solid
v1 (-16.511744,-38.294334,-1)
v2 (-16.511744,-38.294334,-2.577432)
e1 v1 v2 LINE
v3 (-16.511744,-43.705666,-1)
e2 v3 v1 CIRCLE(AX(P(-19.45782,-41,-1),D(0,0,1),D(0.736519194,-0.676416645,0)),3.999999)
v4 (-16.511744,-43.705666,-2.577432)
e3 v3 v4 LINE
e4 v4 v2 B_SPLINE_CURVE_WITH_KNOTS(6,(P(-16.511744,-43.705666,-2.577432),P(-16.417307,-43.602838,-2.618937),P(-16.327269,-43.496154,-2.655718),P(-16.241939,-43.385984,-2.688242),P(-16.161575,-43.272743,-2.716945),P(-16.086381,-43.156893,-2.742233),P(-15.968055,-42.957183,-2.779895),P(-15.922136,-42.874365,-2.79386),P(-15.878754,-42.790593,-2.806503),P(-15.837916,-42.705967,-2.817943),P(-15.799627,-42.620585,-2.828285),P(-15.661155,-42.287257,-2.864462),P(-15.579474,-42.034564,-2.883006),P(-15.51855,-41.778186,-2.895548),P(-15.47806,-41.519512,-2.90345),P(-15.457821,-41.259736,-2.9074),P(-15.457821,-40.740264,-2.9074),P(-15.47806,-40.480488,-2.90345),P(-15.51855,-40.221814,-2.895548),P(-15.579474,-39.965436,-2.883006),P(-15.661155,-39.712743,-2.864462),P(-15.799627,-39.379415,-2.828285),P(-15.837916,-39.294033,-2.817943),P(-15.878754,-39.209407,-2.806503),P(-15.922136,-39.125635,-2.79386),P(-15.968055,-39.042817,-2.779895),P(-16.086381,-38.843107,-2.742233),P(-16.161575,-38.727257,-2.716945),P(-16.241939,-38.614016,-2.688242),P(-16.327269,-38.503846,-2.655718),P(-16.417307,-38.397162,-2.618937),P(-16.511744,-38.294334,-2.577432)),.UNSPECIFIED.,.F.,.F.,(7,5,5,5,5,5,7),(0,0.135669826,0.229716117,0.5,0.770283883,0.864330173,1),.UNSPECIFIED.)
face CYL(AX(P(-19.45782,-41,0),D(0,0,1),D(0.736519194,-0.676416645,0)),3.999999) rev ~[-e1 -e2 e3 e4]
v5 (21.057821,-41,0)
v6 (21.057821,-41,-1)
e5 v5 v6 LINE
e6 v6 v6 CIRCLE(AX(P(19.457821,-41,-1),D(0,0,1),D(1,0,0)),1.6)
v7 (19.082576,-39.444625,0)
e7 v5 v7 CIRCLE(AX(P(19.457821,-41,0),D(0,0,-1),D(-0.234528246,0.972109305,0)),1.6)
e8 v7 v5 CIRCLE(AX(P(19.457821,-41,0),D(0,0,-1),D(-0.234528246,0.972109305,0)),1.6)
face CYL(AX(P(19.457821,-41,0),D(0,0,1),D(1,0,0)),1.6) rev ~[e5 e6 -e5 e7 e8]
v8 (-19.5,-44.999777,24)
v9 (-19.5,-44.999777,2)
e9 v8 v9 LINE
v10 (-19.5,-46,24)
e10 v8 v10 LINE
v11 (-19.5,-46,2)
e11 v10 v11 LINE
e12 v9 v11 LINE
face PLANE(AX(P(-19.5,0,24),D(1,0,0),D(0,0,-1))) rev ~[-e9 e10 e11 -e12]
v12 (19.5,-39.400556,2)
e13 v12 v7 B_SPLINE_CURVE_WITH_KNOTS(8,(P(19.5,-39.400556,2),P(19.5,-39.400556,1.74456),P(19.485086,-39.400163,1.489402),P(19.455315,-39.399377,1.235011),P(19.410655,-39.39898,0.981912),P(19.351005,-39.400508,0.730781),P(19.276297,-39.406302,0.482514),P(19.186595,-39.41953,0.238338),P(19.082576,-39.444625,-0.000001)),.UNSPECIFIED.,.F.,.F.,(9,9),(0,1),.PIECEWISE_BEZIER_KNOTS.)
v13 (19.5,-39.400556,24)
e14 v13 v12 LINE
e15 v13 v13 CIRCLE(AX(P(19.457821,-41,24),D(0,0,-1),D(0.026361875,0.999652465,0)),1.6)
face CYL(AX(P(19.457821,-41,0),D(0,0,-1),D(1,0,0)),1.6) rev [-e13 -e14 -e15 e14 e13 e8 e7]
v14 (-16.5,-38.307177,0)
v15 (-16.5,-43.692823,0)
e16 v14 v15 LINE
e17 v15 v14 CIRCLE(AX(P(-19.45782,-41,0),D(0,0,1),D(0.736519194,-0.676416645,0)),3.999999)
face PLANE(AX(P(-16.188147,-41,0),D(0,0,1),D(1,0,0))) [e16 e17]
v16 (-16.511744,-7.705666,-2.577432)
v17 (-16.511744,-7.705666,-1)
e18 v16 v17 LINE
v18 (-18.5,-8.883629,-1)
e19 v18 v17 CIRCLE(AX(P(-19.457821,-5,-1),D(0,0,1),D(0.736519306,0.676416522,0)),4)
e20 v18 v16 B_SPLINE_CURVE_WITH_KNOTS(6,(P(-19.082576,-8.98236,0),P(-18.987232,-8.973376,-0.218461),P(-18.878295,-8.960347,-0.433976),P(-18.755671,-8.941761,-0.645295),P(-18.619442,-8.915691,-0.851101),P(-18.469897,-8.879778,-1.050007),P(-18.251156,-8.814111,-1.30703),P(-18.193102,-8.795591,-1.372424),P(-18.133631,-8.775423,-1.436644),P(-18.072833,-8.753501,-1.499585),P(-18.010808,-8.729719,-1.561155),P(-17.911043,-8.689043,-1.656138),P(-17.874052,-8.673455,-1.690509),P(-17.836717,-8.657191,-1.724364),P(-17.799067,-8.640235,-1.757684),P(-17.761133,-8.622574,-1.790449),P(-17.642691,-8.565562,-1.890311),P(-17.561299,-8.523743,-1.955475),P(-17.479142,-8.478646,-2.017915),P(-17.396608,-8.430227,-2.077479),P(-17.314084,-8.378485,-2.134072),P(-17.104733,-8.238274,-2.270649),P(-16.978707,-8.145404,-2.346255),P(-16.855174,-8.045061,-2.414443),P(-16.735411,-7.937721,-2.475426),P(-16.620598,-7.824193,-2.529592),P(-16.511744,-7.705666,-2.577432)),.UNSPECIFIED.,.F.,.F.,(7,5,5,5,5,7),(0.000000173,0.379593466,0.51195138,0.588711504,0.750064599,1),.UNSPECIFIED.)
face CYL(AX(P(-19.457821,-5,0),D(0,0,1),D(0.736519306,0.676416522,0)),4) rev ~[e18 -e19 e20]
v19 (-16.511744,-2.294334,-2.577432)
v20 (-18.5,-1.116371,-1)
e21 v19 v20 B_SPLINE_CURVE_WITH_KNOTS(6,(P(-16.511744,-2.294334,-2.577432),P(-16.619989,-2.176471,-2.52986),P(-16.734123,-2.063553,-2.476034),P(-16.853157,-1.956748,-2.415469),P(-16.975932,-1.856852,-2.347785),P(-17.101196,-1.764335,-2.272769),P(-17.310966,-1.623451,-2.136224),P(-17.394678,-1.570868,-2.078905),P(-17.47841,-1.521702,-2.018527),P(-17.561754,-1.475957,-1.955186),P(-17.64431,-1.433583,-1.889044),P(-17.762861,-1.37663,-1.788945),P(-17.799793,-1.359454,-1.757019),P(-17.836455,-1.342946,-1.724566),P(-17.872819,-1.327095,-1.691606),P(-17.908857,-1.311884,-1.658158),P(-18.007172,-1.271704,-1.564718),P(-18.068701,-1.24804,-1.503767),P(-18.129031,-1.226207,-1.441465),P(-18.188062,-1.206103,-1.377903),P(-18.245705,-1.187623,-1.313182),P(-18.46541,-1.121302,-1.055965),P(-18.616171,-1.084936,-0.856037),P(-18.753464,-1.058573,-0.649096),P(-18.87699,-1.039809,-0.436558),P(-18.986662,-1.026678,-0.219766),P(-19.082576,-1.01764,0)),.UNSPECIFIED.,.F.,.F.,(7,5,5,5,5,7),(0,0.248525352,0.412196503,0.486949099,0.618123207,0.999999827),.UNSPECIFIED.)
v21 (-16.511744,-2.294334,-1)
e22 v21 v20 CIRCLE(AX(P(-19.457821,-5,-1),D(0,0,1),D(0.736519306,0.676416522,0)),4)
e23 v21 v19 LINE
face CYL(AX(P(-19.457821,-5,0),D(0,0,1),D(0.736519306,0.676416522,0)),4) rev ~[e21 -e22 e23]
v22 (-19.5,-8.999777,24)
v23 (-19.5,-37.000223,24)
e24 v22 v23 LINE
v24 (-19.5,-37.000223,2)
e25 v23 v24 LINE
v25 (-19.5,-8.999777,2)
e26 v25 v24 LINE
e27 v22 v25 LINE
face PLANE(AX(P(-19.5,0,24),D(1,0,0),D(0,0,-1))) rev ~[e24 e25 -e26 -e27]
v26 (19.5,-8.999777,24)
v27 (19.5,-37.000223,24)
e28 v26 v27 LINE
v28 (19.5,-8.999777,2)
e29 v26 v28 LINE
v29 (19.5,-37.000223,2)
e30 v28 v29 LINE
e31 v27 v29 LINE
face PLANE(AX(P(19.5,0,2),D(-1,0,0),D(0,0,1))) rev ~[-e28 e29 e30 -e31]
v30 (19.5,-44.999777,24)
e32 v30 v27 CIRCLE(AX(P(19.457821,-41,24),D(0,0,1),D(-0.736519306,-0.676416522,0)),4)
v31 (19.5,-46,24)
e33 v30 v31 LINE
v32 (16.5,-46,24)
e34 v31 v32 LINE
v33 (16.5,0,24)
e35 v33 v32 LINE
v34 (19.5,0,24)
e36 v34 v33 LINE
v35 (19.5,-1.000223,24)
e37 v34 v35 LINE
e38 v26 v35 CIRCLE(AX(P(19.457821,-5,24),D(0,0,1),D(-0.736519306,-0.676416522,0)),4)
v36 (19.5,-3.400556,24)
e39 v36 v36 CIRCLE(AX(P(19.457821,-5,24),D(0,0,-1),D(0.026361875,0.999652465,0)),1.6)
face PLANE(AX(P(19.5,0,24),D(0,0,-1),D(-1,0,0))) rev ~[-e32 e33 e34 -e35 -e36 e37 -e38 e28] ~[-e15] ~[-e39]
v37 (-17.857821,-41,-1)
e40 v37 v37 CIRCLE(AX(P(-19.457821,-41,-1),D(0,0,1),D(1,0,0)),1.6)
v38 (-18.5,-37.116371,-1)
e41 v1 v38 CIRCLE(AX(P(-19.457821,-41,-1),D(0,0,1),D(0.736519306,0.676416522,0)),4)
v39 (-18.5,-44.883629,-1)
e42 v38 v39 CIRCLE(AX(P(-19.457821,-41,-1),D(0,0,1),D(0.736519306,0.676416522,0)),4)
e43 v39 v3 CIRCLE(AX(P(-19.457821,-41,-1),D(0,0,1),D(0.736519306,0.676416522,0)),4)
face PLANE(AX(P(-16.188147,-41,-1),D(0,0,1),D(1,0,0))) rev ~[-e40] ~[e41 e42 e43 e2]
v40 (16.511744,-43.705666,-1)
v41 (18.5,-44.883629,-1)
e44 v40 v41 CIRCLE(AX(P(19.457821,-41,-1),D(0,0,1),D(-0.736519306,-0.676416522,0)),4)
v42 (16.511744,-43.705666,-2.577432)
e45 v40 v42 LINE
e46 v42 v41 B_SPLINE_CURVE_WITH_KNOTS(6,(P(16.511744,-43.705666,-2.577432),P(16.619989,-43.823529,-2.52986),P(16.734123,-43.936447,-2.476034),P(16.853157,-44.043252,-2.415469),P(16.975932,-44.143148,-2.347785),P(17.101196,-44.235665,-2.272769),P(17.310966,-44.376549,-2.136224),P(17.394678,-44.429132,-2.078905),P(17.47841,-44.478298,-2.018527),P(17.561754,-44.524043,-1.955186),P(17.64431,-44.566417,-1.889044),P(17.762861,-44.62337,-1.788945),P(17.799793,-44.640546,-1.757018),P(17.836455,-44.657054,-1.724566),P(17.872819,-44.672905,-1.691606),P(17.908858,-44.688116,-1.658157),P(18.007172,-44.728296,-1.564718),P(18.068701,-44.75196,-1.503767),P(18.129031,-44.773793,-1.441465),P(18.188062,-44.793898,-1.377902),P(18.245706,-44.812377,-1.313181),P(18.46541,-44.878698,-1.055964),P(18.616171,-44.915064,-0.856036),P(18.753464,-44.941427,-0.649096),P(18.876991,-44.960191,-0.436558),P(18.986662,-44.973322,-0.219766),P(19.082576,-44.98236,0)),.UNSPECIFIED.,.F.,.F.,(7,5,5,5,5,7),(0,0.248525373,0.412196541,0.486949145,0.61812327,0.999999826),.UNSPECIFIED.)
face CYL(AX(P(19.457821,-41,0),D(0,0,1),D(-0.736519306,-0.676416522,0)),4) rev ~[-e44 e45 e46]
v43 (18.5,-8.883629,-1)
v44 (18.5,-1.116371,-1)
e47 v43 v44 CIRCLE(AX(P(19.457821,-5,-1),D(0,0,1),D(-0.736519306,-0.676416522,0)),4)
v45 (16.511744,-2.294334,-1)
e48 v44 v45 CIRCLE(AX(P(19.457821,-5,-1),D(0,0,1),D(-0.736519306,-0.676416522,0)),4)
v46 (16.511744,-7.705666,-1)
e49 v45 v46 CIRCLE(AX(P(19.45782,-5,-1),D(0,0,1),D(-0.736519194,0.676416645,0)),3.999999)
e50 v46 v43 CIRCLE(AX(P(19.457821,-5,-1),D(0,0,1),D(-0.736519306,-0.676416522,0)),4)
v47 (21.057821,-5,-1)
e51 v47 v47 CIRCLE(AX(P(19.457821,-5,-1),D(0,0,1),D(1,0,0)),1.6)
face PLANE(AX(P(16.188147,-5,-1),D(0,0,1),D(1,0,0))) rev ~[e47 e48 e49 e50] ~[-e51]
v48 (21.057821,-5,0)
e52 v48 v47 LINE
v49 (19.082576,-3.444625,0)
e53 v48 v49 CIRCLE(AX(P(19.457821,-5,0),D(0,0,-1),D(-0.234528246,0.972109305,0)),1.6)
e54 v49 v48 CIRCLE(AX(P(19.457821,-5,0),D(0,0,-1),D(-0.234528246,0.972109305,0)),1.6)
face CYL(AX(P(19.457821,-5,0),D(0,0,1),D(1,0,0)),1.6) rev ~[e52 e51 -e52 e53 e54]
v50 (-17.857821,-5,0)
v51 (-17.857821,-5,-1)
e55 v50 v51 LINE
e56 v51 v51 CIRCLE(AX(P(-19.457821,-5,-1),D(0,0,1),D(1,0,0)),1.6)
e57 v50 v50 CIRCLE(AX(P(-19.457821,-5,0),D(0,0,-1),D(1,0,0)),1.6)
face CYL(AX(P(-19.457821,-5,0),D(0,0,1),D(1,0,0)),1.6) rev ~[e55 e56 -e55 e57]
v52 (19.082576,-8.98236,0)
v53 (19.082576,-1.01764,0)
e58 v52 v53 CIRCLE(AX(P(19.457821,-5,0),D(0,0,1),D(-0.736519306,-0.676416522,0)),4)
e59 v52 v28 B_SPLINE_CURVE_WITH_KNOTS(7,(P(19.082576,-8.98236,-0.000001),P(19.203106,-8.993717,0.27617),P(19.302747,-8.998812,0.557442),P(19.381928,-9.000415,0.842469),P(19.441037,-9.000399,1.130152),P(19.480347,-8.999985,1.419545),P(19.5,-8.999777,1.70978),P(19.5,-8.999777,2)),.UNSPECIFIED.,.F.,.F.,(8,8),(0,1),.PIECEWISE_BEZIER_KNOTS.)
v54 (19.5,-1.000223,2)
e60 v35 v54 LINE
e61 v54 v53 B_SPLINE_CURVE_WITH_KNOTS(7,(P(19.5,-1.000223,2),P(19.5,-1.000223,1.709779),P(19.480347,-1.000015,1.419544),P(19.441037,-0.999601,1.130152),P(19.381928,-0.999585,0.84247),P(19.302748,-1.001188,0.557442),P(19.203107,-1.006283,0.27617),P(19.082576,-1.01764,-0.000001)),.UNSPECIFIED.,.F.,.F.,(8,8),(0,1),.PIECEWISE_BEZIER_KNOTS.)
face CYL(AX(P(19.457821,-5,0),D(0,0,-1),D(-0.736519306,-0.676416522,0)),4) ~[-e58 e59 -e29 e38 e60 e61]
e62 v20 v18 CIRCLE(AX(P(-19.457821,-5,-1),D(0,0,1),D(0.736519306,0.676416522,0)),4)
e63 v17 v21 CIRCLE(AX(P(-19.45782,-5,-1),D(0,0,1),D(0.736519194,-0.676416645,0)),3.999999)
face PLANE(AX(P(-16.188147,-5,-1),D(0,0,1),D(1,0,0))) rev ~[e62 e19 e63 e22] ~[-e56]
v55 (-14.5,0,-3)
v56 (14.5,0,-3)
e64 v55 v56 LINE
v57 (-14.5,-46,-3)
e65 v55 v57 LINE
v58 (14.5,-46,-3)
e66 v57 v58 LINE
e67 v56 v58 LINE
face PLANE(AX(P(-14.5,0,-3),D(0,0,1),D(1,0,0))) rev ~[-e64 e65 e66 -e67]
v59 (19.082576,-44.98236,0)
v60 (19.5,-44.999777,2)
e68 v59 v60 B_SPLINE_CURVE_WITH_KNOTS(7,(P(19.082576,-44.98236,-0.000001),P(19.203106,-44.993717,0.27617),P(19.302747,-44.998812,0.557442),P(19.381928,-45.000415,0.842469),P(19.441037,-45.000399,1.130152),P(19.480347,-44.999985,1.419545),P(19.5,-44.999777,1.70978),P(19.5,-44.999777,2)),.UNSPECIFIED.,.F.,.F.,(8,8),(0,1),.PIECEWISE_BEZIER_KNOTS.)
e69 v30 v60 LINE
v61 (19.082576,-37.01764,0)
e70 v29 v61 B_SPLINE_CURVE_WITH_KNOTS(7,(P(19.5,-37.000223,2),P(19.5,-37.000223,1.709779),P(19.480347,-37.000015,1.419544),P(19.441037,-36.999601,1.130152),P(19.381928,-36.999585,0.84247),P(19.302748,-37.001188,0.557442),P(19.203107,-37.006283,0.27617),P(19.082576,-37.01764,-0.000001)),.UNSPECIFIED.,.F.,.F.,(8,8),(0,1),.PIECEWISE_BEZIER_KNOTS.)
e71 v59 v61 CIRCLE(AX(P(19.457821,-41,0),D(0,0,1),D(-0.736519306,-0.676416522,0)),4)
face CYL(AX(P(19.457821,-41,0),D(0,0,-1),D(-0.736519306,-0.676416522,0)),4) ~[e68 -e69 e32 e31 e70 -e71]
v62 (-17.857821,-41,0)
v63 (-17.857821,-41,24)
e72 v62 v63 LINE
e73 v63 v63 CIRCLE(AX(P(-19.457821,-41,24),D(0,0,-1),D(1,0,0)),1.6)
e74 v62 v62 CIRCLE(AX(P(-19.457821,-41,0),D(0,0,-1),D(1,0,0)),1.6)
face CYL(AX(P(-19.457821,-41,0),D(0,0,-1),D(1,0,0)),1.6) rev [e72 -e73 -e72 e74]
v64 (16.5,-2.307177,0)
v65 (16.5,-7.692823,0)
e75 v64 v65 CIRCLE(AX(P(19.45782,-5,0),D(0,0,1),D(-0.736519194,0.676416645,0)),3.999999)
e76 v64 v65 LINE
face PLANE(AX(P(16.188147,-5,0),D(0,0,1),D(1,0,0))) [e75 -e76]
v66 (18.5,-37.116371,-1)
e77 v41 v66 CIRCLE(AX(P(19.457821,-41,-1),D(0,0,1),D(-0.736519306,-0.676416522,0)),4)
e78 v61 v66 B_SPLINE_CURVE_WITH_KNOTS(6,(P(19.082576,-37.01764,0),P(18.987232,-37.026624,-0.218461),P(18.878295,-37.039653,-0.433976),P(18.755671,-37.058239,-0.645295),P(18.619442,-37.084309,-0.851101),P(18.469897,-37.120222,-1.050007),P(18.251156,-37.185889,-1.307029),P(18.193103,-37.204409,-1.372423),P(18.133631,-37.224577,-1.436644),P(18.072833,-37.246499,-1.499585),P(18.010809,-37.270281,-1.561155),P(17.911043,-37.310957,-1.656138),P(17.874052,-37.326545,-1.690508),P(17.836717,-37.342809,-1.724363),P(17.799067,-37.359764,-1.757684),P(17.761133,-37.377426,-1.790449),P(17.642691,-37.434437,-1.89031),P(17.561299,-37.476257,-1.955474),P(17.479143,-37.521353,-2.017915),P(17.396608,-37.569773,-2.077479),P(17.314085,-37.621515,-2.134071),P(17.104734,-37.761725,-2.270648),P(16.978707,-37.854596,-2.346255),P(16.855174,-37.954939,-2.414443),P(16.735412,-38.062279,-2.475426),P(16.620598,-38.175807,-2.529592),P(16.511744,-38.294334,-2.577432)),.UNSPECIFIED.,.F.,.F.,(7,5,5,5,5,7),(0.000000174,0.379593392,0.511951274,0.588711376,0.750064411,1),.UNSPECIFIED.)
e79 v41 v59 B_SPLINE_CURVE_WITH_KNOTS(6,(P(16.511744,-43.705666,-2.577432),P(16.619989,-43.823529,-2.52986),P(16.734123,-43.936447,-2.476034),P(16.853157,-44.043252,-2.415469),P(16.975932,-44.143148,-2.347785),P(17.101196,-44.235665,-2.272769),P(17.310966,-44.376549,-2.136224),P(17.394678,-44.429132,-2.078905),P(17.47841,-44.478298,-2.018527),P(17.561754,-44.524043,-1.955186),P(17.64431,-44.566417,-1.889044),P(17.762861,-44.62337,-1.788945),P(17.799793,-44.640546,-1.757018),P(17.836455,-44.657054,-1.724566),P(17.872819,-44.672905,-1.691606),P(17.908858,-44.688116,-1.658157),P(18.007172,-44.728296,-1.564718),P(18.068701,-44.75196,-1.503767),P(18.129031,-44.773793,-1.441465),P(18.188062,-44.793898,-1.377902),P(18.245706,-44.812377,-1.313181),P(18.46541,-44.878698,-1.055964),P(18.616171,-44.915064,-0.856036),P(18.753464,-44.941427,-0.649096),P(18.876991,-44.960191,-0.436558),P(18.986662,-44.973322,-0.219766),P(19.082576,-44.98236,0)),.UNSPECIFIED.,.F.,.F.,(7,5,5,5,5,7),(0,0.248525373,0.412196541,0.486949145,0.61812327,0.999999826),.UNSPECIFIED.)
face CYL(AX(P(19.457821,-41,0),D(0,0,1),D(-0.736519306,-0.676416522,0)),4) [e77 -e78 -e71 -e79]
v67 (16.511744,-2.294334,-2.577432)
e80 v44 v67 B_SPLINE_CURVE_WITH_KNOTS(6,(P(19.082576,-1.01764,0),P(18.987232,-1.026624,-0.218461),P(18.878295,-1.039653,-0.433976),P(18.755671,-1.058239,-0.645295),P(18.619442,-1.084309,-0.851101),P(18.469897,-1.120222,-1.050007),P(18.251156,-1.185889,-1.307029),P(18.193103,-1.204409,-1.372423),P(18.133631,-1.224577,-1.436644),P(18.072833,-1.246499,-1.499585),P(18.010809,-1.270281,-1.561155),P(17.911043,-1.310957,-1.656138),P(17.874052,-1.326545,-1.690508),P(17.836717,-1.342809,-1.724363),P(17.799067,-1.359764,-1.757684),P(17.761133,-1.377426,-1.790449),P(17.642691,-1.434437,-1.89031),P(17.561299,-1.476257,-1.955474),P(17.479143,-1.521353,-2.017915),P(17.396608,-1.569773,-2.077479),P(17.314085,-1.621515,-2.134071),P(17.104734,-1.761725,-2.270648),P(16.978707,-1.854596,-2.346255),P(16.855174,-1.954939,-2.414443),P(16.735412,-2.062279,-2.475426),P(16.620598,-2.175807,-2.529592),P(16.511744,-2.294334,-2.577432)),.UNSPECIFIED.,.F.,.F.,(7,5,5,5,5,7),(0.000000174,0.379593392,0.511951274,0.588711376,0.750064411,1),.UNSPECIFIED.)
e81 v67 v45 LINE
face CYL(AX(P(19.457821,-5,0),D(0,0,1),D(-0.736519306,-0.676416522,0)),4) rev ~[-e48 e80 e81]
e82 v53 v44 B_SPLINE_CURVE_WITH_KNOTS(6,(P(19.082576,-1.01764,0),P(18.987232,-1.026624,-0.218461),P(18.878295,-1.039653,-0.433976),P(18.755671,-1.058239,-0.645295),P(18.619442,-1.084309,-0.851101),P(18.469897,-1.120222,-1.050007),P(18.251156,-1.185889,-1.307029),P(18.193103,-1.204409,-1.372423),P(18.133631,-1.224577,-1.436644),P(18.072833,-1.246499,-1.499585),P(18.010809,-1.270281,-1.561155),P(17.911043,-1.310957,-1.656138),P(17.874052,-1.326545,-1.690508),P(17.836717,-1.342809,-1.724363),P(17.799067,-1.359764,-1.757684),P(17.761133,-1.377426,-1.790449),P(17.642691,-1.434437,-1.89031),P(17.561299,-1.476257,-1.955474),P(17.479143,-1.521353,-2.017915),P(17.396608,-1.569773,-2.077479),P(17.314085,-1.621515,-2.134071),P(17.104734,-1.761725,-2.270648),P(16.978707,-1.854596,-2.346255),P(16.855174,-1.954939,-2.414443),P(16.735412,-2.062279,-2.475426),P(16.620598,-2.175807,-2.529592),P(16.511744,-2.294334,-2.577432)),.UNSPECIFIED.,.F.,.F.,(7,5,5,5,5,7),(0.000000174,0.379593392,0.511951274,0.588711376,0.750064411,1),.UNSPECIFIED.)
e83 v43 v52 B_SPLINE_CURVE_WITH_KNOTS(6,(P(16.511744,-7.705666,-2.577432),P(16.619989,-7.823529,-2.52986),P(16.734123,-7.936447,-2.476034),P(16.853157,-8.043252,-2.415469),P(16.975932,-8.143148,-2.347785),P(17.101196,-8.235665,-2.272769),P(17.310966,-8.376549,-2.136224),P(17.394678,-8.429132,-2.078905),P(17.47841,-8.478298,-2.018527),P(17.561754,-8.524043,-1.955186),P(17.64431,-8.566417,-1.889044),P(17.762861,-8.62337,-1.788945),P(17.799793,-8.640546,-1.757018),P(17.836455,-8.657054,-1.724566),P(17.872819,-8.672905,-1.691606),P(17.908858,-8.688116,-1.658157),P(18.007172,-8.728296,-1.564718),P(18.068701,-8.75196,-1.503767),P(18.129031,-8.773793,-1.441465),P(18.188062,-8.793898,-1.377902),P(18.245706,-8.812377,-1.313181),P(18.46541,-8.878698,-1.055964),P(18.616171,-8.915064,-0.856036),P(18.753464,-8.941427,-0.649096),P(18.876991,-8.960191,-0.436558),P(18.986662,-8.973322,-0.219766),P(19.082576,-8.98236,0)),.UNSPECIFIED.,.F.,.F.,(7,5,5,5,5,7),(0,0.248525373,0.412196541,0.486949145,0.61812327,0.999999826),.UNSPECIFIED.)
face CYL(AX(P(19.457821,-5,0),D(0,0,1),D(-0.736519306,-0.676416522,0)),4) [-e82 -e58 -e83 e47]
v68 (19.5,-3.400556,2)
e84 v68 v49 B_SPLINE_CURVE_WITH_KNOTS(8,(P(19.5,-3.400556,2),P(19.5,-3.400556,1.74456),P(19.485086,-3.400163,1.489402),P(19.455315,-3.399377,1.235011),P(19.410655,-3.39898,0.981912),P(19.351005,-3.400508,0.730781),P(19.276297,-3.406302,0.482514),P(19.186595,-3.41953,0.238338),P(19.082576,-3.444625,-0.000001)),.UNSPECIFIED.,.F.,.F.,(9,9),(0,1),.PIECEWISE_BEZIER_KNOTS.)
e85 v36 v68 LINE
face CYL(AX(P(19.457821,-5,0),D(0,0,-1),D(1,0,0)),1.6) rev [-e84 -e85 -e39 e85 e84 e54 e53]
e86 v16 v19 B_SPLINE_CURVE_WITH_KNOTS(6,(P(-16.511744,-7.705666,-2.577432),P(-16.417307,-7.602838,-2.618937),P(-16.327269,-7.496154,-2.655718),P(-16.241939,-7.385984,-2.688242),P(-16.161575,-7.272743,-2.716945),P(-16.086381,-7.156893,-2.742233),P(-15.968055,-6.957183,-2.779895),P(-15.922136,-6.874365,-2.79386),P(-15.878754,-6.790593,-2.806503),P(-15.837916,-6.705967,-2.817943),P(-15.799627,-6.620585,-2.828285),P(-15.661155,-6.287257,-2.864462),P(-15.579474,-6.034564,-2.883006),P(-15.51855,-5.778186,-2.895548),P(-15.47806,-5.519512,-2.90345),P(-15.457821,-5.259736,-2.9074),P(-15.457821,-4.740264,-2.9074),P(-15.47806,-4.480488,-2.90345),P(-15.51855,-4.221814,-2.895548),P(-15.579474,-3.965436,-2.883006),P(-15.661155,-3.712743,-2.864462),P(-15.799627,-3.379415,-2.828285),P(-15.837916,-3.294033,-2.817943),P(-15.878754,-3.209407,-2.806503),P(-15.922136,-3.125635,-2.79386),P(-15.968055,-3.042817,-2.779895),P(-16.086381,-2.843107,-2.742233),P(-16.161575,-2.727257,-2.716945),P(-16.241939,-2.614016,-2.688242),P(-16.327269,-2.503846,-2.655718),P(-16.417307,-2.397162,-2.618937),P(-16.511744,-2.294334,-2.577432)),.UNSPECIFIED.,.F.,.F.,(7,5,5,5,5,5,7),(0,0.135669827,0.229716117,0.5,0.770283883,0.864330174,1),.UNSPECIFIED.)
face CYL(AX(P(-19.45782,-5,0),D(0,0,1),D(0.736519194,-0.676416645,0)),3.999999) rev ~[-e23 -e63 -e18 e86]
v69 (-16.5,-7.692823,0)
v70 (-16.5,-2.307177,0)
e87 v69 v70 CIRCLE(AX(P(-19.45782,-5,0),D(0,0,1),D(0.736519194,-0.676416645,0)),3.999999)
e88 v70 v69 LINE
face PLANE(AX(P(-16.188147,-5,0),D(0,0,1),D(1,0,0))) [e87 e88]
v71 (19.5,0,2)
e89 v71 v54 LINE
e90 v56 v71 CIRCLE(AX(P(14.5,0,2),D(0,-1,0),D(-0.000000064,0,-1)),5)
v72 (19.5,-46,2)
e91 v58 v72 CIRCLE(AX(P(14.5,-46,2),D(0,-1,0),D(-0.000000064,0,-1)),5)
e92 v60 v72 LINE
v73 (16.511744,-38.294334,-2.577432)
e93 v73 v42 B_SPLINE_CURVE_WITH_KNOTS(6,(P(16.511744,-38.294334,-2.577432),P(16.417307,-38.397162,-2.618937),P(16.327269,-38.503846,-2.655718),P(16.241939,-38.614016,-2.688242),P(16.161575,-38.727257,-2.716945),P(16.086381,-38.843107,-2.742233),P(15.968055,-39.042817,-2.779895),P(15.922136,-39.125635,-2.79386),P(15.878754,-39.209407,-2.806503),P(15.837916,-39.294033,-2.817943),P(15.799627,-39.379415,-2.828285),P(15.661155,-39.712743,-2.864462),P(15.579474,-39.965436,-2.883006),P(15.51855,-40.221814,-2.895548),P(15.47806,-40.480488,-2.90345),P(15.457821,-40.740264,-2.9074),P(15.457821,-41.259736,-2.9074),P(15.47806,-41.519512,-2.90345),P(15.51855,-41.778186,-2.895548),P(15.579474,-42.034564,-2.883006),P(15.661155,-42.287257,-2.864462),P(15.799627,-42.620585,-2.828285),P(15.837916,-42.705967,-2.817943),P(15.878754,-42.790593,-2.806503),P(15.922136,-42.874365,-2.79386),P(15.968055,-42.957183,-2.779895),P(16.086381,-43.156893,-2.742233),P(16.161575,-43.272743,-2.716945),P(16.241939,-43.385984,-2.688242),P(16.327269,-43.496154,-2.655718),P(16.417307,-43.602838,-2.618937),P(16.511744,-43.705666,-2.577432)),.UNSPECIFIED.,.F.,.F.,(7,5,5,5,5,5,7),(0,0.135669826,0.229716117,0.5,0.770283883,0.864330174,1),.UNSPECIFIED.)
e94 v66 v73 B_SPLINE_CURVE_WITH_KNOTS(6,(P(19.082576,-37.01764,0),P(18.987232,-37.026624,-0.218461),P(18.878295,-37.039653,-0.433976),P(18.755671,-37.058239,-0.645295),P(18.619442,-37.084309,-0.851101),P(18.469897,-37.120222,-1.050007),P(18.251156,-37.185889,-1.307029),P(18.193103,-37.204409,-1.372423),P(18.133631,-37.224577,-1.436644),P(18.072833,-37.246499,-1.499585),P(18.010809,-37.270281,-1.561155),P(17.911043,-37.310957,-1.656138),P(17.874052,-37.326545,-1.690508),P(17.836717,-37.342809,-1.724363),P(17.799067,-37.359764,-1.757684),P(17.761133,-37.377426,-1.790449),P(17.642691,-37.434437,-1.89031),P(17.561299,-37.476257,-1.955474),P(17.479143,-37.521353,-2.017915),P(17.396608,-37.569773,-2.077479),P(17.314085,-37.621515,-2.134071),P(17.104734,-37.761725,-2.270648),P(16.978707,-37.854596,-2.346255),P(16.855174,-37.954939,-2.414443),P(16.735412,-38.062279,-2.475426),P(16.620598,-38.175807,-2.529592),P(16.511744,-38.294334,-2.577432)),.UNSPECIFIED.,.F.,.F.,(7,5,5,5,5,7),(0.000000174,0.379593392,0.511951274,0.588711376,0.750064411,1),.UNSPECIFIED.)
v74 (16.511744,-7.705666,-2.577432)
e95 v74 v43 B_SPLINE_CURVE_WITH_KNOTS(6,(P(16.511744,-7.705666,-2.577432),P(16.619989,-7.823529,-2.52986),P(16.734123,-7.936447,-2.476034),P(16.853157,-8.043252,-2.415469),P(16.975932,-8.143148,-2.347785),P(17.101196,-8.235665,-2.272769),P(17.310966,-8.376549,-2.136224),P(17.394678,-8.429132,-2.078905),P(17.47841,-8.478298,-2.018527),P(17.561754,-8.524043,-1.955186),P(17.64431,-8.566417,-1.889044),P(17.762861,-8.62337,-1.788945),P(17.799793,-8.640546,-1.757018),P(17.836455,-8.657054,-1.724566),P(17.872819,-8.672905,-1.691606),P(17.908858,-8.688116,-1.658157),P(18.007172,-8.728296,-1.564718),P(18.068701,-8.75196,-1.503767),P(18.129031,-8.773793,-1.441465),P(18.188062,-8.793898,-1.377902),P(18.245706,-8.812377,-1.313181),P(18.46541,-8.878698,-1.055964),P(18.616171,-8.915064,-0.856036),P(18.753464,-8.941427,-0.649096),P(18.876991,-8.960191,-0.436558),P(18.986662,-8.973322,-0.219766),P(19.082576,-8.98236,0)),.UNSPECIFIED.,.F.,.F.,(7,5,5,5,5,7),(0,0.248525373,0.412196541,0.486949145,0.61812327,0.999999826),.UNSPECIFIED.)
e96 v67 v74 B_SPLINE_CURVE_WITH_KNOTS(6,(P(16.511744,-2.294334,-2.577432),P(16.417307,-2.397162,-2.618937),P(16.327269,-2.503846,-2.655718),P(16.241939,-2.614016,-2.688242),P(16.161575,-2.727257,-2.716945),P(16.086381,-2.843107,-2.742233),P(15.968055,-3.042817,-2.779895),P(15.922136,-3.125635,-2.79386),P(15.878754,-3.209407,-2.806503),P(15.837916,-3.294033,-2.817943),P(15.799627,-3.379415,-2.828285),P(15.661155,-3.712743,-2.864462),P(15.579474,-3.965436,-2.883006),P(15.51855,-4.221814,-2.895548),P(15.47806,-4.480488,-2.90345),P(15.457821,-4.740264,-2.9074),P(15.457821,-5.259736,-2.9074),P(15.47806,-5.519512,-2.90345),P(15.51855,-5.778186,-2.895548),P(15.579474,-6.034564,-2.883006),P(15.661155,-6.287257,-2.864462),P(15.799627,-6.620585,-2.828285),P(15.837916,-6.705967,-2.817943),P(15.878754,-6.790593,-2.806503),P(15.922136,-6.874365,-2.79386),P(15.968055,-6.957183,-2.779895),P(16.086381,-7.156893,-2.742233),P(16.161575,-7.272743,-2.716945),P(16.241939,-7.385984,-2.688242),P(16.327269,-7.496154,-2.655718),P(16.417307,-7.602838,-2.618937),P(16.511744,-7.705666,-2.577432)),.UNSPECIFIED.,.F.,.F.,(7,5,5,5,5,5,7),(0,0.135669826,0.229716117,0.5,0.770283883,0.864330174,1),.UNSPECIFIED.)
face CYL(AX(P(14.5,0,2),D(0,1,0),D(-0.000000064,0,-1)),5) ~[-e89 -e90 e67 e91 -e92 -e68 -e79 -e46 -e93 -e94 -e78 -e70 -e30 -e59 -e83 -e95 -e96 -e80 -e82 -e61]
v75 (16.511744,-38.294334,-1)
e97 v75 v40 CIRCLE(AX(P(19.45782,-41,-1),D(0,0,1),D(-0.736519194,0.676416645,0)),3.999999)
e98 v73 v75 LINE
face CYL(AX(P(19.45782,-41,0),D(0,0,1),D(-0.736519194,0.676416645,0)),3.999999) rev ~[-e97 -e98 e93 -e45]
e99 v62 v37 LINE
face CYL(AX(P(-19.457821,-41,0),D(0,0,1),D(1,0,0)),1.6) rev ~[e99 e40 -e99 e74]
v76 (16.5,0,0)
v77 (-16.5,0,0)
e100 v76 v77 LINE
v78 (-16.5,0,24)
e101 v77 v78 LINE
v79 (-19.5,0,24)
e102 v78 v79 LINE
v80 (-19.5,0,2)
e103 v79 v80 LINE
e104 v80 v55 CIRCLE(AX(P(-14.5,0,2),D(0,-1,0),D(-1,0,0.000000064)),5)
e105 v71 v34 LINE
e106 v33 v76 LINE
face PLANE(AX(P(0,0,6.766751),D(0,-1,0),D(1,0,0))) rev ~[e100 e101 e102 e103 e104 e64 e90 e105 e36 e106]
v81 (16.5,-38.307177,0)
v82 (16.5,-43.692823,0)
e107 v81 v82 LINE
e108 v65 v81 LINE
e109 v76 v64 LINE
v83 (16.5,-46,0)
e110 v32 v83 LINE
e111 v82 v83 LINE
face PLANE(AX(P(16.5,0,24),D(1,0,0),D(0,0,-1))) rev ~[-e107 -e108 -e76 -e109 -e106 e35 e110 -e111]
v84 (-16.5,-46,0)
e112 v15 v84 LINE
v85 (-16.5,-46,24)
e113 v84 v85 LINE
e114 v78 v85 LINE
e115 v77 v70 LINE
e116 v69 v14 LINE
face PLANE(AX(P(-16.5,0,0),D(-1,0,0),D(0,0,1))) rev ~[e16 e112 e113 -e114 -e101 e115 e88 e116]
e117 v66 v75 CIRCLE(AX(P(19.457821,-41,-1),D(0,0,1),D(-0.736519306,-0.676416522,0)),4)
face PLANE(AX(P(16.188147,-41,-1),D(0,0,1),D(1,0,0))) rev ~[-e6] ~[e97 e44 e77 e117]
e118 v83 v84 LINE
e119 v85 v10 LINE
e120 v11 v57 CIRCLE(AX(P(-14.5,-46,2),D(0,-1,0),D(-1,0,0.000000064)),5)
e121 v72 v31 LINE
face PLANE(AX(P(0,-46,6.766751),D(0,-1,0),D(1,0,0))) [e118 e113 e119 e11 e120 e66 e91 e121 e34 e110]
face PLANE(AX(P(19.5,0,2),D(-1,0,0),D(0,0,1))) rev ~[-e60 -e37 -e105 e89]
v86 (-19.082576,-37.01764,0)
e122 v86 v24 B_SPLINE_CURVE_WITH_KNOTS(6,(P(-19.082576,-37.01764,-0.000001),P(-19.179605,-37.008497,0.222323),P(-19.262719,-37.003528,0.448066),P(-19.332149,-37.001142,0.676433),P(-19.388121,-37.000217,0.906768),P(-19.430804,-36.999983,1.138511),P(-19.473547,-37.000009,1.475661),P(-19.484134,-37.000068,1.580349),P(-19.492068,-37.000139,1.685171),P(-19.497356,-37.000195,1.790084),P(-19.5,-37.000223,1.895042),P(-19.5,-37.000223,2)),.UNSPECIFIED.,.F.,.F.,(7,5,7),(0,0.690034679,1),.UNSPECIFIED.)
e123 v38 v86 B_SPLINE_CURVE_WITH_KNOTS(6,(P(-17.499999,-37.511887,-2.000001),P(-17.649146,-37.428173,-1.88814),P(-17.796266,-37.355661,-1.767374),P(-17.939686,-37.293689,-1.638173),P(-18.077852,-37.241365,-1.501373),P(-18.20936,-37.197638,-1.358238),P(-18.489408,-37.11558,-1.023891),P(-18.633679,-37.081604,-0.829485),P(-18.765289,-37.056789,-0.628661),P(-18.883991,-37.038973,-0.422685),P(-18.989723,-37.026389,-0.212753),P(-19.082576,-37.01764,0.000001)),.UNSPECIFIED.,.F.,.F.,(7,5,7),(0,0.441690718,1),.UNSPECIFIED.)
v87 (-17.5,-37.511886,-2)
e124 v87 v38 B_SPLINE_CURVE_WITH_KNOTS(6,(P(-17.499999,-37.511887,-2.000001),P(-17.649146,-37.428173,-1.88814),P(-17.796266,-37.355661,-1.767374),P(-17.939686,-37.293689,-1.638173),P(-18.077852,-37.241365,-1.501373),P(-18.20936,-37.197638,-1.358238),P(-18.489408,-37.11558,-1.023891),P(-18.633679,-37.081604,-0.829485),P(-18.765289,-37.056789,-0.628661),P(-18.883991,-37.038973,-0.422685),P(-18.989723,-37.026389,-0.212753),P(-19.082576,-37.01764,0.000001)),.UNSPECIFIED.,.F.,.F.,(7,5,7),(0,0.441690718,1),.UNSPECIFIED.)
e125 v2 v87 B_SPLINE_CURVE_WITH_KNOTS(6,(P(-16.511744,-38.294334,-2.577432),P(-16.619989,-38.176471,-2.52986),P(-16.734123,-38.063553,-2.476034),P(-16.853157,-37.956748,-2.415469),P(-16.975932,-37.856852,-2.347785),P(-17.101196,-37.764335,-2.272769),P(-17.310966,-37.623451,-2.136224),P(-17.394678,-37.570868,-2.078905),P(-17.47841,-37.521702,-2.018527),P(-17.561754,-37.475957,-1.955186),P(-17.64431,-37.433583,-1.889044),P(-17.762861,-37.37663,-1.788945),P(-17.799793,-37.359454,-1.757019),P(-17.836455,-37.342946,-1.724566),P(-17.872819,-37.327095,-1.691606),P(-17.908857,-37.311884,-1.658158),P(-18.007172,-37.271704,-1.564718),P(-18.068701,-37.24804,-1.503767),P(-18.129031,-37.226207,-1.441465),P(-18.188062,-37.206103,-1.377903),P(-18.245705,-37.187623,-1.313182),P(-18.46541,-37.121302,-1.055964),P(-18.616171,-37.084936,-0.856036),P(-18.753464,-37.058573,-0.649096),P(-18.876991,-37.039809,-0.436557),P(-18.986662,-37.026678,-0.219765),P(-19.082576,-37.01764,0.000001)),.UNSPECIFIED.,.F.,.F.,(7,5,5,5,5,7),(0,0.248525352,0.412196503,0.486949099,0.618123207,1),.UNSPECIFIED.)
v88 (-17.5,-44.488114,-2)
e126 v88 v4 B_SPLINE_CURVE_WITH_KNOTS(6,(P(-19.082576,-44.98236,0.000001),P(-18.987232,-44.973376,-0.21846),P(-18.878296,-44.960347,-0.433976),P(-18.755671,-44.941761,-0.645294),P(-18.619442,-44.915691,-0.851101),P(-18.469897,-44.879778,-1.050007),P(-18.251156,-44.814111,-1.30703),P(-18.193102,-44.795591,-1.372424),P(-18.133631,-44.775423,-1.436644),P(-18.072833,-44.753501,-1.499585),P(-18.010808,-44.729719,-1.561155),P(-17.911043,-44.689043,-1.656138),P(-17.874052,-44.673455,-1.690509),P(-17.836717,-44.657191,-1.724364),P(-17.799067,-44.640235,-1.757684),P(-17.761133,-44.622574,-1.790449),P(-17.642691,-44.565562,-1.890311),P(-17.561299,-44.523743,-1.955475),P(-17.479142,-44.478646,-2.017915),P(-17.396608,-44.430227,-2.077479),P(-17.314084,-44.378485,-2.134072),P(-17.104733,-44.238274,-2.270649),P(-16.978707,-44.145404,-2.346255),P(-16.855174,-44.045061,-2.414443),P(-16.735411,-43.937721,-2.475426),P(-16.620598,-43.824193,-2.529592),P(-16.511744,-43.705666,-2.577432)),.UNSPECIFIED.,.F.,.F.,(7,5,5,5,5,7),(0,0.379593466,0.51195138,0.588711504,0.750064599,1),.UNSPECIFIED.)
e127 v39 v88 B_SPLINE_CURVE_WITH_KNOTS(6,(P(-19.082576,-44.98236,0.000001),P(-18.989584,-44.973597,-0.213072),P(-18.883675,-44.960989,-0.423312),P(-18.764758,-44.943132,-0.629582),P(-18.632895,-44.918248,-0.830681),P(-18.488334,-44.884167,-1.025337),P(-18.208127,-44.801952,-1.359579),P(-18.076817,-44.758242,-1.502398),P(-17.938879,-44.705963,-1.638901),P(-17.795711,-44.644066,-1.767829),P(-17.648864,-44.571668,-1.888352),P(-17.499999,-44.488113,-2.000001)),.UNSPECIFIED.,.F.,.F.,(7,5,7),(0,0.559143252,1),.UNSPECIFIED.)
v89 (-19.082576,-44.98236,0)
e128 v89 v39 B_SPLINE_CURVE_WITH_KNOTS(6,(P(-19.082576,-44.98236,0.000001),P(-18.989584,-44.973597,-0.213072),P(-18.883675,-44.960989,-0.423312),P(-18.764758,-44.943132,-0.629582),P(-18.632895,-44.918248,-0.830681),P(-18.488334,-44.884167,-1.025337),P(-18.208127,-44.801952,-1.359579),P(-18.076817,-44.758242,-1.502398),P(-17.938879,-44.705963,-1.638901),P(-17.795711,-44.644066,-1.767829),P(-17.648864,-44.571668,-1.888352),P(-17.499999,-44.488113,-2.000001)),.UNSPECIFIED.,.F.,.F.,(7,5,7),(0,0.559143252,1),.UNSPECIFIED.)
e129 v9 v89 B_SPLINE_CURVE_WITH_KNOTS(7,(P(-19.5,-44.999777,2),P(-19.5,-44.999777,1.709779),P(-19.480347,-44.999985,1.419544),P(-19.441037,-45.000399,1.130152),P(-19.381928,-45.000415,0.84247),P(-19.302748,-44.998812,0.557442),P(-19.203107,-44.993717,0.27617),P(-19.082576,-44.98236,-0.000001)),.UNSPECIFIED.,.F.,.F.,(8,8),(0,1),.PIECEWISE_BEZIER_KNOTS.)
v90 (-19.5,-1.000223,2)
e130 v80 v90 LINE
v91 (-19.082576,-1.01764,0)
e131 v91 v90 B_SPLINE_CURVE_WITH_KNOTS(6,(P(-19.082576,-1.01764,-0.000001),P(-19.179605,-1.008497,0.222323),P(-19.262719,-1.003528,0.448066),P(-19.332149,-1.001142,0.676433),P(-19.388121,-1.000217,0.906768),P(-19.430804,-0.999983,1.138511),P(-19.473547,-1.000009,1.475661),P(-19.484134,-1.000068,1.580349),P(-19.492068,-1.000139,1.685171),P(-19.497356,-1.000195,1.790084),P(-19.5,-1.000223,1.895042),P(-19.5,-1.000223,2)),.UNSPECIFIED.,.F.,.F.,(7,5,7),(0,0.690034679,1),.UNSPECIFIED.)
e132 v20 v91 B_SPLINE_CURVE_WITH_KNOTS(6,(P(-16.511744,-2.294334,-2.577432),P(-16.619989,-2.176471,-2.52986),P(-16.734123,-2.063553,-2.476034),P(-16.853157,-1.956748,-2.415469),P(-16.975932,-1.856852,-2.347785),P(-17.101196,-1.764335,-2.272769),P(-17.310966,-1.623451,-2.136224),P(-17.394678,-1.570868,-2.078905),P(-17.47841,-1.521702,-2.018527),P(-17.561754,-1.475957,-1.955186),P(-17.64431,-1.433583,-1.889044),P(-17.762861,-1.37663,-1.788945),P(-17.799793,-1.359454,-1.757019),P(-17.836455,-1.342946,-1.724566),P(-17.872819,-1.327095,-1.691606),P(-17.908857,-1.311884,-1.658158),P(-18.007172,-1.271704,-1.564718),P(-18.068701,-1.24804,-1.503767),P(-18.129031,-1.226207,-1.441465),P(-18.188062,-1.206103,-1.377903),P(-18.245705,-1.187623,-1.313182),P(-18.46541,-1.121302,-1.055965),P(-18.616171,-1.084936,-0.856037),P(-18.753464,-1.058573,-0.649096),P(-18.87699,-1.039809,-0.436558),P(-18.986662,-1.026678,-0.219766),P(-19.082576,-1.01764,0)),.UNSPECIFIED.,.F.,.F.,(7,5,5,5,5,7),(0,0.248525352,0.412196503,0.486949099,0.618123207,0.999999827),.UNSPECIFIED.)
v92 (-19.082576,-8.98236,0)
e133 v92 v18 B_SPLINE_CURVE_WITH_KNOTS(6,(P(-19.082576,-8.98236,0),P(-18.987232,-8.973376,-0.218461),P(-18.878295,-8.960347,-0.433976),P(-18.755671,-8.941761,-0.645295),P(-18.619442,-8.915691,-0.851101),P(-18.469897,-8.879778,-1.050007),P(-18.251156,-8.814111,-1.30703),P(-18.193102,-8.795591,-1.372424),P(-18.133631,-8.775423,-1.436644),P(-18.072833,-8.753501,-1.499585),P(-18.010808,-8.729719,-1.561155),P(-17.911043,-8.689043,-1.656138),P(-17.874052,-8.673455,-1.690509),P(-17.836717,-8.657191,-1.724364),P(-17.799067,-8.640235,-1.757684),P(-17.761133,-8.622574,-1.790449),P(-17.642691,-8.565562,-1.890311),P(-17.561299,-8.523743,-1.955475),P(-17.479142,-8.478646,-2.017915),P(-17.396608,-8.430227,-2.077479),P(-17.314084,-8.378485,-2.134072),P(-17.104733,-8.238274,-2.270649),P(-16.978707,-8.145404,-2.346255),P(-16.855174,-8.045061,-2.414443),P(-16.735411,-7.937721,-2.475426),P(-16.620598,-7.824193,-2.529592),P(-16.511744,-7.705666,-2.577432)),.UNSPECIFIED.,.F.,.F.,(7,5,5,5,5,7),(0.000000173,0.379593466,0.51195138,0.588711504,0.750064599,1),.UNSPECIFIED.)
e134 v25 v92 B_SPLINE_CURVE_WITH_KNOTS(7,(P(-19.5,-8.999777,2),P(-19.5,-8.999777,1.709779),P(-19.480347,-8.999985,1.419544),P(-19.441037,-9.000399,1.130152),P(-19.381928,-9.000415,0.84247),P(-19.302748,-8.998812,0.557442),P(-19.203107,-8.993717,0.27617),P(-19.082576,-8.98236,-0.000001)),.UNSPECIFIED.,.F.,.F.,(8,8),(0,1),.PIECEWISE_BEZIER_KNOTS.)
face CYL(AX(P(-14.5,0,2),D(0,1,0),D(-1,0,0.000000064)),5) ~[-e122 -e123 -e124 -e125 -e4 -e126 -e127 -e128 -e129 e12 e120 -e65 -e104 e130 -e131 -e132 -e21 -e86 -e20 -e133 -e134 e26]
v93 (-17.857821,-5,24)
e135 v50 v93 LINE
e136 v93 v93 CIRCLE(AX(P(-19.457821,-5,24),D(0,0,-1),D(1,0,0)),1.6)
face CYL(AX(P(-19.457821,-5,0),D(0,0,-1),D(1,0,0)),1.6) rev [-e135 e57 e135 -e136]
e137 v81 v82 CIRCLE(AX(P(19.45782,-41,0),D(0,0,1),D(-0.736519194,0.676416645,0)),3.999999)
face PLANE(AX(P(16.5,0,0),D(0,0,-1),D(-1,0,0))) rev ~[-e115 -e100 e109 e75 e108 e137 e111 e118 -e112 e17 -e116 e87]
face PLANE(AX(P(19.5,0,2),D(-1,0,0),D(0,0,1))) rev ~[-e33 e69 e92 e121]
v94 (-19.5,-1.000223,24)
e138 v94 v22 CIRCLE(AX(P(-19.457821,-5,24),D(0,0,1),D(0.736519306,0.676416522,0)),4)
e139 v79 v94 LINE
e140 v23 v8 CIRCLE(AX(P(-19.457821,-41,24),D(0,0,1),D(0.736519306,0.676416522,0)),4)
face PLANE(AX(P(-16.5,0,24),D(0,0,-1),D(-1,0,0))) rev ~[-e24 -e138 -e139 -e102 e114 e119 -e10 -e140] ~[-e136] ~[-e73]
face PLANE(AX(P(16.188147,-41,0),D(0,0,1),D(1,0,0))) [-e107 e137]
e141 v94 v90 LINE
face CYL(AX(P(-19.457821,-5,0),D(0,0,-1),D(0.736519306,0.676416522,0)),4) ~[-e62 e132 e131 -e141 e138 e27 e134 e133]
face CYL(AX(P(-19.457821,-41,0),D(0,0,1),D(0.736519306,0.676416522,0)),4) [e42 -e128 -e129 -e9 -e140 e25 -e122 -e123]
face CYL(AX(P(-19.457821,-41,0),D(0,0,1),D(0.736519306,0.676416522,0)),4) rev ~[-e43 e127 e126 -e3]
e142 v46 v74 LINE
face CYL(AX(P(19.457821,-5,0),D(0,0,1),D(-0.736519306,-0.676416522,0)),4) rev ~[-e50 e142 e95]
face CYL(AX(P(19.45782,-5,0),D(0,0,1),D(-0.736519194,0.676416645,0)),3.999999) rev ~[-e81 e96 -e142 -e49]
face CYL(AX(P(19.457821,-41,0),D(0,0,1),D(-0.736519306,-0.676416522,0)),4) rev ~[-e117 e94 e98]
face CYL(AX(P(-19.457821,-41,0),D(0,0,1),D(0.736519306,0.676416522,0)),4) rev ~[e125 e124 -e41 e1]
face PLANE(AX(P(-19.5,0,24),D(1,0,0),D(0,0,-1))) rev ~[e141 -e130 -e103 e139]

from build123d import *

# Parameters (mm, degrees)
F1_DEPTH      = 46
F3_R          = 1.6
F4_DEPTH      = 24
F5_DEPTH      = 24.001
F5_DEPTH_BACK = 3.001
F6_DEPTH      = 25
F7_DEPTH      = 2
F8_DEPTH      = 25
F9_DEPTH      = 1


with BuildPart() as f1:
    # F0 (on Front) → F1 (new body)
    with BuildSketch(Plane.XZ):
        with BuildLine():
            Line((16.5, 0), (-16.5, 0))
            Line((-16.5, 0), (-16.5, 21))
            Line((-16.5, 21), (-16.5, 24))
            Line((-16.5, 24), (-19.5, 24))
            Line((-19.5, 24), (-19.5, 2))
            ThreePointArc((-19.5, 2), (-18.035534, -1.535534), (-14.5, -3))
            Line((-14.5, -3), (14.5, -3))
            ThreePointArc((14.5, -3), (18.035534, -1.535534), (19.5, 2))
            Line((19.5, 2), (19.5, 24))
            Line((19.5, 24), (16.5, 24))
            Line((16.5, 24), (16.5, 21))
            Line((16.5, 21), (16.5, 0))
        make_face()
    extrude(amount=F1_DEPTH)

    # F3 (on Top) → F4 (join, through all)
    with BuildSketch(Plane.XY):
        with BuildLine():
            ThreePointArc((-16.511744, -2.294334), (-23.457821, -5), (-16.511744, -7.705666))
            Line((-16.511744, -7.705666), (-16.511744, -2.294334))
        make_face()
        with Locations((-19.457821, -5)):
            Circle(F3_R, mode=Mode.SUBTRACT)
        with BuildLine():
            Line((16.511744, -2.294334), (16.511744, -7.705666))
            ThreePointArc((16.511744, -7.705666), (23.457821, -5), (16.511744, -2.294334))
        make_face()
        with Locations((19.457821, -5)):
            Circle(F3_R, mode=Mode.SUBTRACT)
        with BuildLine():
            Line((16.511744, -38.294334), (16.511744, -43.705666))
            ThreePointArc((16.511744, -43.705666), (23.457821, -41), (16.511744, -38.294334))
        make_face()
        with Locations((19.457821, -41)):
            Circle(F3_R, mode=Mode.SUBTRACT)
        with BuildLine():
            ThreePointArc((-16.511744, -38.294334), (-23.457821, -41), (-16.511744, -43.705666))
            Line((-16.511744, -43.705666), (-16.511744, -38.294334))
        make_face()
        with Locations((-19.457821, -41)):
            Circle(F3_R, mode=Mode.SUBTRACT)
    extrude(amount=F4_DEPTH)

    # F3 (on Top) → F5 (cut, two sides)
    with BuildSketch(Plane.XY) as f5_sk:
        with Locations((19.457821, -5)):
            Circle(F3_R)
        with Locations((-19.457821, -5)):
            Circle(F3_R)
        with Locations((-19.457821, -41)):
            Circle(F3_R)
        with Locations((19.457821, -41)):
            Circle(F3_R)
    extrude(amount=F5_DEPTH, mode=Mode.SUBTRACT)
    extrude(f5_sk.sketch, amount=-F5_DEPTH_BACK, mode=Mode.SUBTRACT)

    # F3 (on Top) → F6 (cut)
    with BuildSketch(Plane.XY):
        with BuildLine():
            Line((16.511744, -2.294334), (16.511744, -7.705666))
            ThreePointArc((16.511744, -7.705666), (23.457821, -5), (16.511744, -2.294334))
        make_face()
        with Locations((19.457821, -5)):
            Circle(F3_R, mode=Mode.SUBTRACT)
        with BuildLine():
            ThreePointArc((-16.511744, -2.294334), (-23.457821, -5), (-16.511744, -7.705666))
            Line((-16.511744, -7.705666), (-16.511744, -2.294334))
        make_face()
        with Locations((-19.457821, -5)):
            Circle(F3_R, mode=Mode.SUBTRACT)
        with BuildLine():
            Line((16.511744, -38.294334), (16.511744, -43.705666))
            ThreePointArc((16.511744, -43.705666), (23.457821, -41), (16.511744, -38.294334))
        make_face()
        with Locations((19.457821, -41)):
            Circle(F3_R, mode=Mode.SUBTRACT)
    extrude(amount=-F6_DEPTH, mode=Mode.SUBTRACT)

    # F3 (on Top) → F7 (join)
    with BuildSketch(Plane.XY):
        with BuildLine():
            ThreePointArc((-16.511744, -38.294334), (-23.457821, -41), (-16.511744, -43.705666))
            Line((-16.511744, -43.705666), (-16.511744, -38.294334))
        make_face()
        with Locations((-19.457821, -41)):
            Circle(F3_R, mode=Mode.SUBTRACT)
        with BuildLine():
            ThreePointArc((-16.511744, -2.294334), (-23.457821, -5), (-16.511744, -7.705666))
            Line((-16.511744, -7.705666), (-16.511744, -2.294334))
        make_face()
        with Locations((-19.457821, -5)):
            Circle(F3_R, mode=Mode.SUBTRACT)
        with BuildLine():
            Line((16.511744, -38.294334), (16.511744, -43.705666))
            ThreePointArc((16.511744, -43.705666), (23.457821, -41), (16.511744, -38.294334))
        make_face()
        with Locations((19.457821, -41)):
            Circle(F3_R, mode=Mode.SUBTRACT)
        with BuildLine():
            Line((16.511744, -2.294334), (16.511744, -7.705666))
            ThreePointArc((16.511744, -7.705666), (23.457821, -5), (16.511744, -2.294334))
        make_face()
        with Locations((19.457821, -5)):
            Circle(F3_R, mode=Mode.SUBTRACT)
    extrude(amount=-F7_DEPTH)

    # F3 (on Top) → F8 (cut)
    with BuildSketch(Plane.XY):
        with BuildLine():
            Line((16.511744, -2.294334), (16.511744, -7.705666))
            ThreePointArc((16.511744, -7.705666), (23.457821, -5), (16.511744, -2.294334))
        make_face()
        with Locations((19.457821, -5)):
            Circle(F3_R, mode=Mode.SUBTRACT)
        with BuildLine():
            ThreePointArc((16.511744, -2.294334), (15.457821, -5), (16.511744, -7.705666))
            Line((16.511744, -7.705666), (16.511744, -2.294334))
        make_face()
        with BuildLine():
            Line((16.511744, -38.294334), (16.511744, -43.705666))
            ThreePointArc((16.511744, -43.705666), (23.457821, -41), (16.511744, -38.294334))
        make_face()
        with Locations((19.457821, -41)):
            Circle(F3_R, mode=Mode.SUBTRACT)
        with BuildLine():
            ThreePointArc((16.511744, -38.294334), (15.457821, -41), (16.511744, -43.705666))
            Line((16.511744, -43.705666), (16.511744, -38.294334))
        make_face()
        with BuildLine():
            ThreePointArc((-16.511744, -2.294334), (-23.457821, -5), (-16.511744, -7.705666))
            Line((-16.511744, -7.705666), (-16.511744, -2.294334))
        make_face()
        with Locations((-19.457821, -5)):
            Circle(F3_R, mode=Mode.SUBTRACT)
        with BuildLine():
            Line((-16.511744, -2.294334), (-16.511744, -7.705666))
            ThreePointArc((-16.511744, -7.705666), (-15.457821, -5), (-16.511744, -2.294334))
        make_face()
        with BuildLine():
            ThreePointArc((-16.511744, -38.294334), (-23.457821, -41), (-16.511744, -43.705666))
            Line((-16.511744, -43.705666), (-16.511744, -38.294334))
        make_face()
        with Locations((-19.457821, -41)):
            Circle(F3_R, mode=Mode.SUBTRACT)
        with BuildLine():
            Line((-16.511744, -38.294334), (-16.511744, -43.705666))
            ThreePointArc((-16.511744, -43.705666), (-15.457821, -41), (-16.511744, -38.294334))
        make_face()
    extrude(amount=-F8_DEPTH, mode=Mode.SUBTRACT)

    # F3 (on Top) → F9 (join)
    with BuildSketch(Plane.XY):
        with BuildLine():
            Line((-16.511744, -38.294334), (-16.511744, -43.705666))
            ThreePointArc((-16.511744, -43.705666), (-15.457821, -41), (-16.511744, -38.294334))
        make_face()
        with BuildLine():
            ThreePointArc((-16.511744, -38.294334), (-23.457821, -41), (-16.511744, -43.705666))
            Line((-16.511744, -43.705666), (-16.511744, -38.294334))
        make_face()
        with Locations((-19.457821, -41)):
            Circle(F3_R, mode=Mode.SUBTRACT)
        with BuildLine():
            ThreePointArc((16.511744, -38.294334), (15.457821, -41), (16.511744, -43.705666))
            Line((16.511744, -43.705666), (16.511744, -38.294334))
        make_face()
        with BuildLine():
            Line((16.511744, -38.294334), (16.511744, -43.705666))
            ThreePointArc((16.511744, -43.705666), (23.457821, -41), (16.511744, -38.294334))
        make_face()
        with Locations((19.457821, -41)):
            Circle(F3_R, mode=Mode.SUBTRACT)
        with BuildLine():
            ThreePointArc((16.511744, -2.294334), (15.457821, -5), (16.511744, -7.705666))
            Line((16.511744, -7.705666), (16.511744, -2.294334))
        make_face()
        with BuildLine():
            Line((16.511744, -2.294334), (16.511744, -7.705666))
            ThreePointArc((16.511744, -7.705666), (23.457821, -5), (16.511744, -2.294334))
        make_face()
        with Locations((19.457821, -5)):
            Circle(F3_R, mode=Mode.SUBTRACT)
        with BuildLine():
            Line((-16.511744, -2.294334), (-16.511744, -7.705666))
            ThreePointArc((-16.511744, -7.705666), (-15.457821, -5), (-16.511744, -2.294334))
        make_face()
        with BuildLine():
            ThreePointArc((-16.511744, -2.294334), (-23.457821, -5), (-16.511744, -7.705666))
            Line((-16.511744, -7.705666), (-16.511744, -2.294334))
        make_face()
        with Locations((-19.457821, -5)):
            Circle(F3_R, mode=Mode.SUBTRACT)
    extrude(amount=-F9_DEPTH)


solid = f1.part
